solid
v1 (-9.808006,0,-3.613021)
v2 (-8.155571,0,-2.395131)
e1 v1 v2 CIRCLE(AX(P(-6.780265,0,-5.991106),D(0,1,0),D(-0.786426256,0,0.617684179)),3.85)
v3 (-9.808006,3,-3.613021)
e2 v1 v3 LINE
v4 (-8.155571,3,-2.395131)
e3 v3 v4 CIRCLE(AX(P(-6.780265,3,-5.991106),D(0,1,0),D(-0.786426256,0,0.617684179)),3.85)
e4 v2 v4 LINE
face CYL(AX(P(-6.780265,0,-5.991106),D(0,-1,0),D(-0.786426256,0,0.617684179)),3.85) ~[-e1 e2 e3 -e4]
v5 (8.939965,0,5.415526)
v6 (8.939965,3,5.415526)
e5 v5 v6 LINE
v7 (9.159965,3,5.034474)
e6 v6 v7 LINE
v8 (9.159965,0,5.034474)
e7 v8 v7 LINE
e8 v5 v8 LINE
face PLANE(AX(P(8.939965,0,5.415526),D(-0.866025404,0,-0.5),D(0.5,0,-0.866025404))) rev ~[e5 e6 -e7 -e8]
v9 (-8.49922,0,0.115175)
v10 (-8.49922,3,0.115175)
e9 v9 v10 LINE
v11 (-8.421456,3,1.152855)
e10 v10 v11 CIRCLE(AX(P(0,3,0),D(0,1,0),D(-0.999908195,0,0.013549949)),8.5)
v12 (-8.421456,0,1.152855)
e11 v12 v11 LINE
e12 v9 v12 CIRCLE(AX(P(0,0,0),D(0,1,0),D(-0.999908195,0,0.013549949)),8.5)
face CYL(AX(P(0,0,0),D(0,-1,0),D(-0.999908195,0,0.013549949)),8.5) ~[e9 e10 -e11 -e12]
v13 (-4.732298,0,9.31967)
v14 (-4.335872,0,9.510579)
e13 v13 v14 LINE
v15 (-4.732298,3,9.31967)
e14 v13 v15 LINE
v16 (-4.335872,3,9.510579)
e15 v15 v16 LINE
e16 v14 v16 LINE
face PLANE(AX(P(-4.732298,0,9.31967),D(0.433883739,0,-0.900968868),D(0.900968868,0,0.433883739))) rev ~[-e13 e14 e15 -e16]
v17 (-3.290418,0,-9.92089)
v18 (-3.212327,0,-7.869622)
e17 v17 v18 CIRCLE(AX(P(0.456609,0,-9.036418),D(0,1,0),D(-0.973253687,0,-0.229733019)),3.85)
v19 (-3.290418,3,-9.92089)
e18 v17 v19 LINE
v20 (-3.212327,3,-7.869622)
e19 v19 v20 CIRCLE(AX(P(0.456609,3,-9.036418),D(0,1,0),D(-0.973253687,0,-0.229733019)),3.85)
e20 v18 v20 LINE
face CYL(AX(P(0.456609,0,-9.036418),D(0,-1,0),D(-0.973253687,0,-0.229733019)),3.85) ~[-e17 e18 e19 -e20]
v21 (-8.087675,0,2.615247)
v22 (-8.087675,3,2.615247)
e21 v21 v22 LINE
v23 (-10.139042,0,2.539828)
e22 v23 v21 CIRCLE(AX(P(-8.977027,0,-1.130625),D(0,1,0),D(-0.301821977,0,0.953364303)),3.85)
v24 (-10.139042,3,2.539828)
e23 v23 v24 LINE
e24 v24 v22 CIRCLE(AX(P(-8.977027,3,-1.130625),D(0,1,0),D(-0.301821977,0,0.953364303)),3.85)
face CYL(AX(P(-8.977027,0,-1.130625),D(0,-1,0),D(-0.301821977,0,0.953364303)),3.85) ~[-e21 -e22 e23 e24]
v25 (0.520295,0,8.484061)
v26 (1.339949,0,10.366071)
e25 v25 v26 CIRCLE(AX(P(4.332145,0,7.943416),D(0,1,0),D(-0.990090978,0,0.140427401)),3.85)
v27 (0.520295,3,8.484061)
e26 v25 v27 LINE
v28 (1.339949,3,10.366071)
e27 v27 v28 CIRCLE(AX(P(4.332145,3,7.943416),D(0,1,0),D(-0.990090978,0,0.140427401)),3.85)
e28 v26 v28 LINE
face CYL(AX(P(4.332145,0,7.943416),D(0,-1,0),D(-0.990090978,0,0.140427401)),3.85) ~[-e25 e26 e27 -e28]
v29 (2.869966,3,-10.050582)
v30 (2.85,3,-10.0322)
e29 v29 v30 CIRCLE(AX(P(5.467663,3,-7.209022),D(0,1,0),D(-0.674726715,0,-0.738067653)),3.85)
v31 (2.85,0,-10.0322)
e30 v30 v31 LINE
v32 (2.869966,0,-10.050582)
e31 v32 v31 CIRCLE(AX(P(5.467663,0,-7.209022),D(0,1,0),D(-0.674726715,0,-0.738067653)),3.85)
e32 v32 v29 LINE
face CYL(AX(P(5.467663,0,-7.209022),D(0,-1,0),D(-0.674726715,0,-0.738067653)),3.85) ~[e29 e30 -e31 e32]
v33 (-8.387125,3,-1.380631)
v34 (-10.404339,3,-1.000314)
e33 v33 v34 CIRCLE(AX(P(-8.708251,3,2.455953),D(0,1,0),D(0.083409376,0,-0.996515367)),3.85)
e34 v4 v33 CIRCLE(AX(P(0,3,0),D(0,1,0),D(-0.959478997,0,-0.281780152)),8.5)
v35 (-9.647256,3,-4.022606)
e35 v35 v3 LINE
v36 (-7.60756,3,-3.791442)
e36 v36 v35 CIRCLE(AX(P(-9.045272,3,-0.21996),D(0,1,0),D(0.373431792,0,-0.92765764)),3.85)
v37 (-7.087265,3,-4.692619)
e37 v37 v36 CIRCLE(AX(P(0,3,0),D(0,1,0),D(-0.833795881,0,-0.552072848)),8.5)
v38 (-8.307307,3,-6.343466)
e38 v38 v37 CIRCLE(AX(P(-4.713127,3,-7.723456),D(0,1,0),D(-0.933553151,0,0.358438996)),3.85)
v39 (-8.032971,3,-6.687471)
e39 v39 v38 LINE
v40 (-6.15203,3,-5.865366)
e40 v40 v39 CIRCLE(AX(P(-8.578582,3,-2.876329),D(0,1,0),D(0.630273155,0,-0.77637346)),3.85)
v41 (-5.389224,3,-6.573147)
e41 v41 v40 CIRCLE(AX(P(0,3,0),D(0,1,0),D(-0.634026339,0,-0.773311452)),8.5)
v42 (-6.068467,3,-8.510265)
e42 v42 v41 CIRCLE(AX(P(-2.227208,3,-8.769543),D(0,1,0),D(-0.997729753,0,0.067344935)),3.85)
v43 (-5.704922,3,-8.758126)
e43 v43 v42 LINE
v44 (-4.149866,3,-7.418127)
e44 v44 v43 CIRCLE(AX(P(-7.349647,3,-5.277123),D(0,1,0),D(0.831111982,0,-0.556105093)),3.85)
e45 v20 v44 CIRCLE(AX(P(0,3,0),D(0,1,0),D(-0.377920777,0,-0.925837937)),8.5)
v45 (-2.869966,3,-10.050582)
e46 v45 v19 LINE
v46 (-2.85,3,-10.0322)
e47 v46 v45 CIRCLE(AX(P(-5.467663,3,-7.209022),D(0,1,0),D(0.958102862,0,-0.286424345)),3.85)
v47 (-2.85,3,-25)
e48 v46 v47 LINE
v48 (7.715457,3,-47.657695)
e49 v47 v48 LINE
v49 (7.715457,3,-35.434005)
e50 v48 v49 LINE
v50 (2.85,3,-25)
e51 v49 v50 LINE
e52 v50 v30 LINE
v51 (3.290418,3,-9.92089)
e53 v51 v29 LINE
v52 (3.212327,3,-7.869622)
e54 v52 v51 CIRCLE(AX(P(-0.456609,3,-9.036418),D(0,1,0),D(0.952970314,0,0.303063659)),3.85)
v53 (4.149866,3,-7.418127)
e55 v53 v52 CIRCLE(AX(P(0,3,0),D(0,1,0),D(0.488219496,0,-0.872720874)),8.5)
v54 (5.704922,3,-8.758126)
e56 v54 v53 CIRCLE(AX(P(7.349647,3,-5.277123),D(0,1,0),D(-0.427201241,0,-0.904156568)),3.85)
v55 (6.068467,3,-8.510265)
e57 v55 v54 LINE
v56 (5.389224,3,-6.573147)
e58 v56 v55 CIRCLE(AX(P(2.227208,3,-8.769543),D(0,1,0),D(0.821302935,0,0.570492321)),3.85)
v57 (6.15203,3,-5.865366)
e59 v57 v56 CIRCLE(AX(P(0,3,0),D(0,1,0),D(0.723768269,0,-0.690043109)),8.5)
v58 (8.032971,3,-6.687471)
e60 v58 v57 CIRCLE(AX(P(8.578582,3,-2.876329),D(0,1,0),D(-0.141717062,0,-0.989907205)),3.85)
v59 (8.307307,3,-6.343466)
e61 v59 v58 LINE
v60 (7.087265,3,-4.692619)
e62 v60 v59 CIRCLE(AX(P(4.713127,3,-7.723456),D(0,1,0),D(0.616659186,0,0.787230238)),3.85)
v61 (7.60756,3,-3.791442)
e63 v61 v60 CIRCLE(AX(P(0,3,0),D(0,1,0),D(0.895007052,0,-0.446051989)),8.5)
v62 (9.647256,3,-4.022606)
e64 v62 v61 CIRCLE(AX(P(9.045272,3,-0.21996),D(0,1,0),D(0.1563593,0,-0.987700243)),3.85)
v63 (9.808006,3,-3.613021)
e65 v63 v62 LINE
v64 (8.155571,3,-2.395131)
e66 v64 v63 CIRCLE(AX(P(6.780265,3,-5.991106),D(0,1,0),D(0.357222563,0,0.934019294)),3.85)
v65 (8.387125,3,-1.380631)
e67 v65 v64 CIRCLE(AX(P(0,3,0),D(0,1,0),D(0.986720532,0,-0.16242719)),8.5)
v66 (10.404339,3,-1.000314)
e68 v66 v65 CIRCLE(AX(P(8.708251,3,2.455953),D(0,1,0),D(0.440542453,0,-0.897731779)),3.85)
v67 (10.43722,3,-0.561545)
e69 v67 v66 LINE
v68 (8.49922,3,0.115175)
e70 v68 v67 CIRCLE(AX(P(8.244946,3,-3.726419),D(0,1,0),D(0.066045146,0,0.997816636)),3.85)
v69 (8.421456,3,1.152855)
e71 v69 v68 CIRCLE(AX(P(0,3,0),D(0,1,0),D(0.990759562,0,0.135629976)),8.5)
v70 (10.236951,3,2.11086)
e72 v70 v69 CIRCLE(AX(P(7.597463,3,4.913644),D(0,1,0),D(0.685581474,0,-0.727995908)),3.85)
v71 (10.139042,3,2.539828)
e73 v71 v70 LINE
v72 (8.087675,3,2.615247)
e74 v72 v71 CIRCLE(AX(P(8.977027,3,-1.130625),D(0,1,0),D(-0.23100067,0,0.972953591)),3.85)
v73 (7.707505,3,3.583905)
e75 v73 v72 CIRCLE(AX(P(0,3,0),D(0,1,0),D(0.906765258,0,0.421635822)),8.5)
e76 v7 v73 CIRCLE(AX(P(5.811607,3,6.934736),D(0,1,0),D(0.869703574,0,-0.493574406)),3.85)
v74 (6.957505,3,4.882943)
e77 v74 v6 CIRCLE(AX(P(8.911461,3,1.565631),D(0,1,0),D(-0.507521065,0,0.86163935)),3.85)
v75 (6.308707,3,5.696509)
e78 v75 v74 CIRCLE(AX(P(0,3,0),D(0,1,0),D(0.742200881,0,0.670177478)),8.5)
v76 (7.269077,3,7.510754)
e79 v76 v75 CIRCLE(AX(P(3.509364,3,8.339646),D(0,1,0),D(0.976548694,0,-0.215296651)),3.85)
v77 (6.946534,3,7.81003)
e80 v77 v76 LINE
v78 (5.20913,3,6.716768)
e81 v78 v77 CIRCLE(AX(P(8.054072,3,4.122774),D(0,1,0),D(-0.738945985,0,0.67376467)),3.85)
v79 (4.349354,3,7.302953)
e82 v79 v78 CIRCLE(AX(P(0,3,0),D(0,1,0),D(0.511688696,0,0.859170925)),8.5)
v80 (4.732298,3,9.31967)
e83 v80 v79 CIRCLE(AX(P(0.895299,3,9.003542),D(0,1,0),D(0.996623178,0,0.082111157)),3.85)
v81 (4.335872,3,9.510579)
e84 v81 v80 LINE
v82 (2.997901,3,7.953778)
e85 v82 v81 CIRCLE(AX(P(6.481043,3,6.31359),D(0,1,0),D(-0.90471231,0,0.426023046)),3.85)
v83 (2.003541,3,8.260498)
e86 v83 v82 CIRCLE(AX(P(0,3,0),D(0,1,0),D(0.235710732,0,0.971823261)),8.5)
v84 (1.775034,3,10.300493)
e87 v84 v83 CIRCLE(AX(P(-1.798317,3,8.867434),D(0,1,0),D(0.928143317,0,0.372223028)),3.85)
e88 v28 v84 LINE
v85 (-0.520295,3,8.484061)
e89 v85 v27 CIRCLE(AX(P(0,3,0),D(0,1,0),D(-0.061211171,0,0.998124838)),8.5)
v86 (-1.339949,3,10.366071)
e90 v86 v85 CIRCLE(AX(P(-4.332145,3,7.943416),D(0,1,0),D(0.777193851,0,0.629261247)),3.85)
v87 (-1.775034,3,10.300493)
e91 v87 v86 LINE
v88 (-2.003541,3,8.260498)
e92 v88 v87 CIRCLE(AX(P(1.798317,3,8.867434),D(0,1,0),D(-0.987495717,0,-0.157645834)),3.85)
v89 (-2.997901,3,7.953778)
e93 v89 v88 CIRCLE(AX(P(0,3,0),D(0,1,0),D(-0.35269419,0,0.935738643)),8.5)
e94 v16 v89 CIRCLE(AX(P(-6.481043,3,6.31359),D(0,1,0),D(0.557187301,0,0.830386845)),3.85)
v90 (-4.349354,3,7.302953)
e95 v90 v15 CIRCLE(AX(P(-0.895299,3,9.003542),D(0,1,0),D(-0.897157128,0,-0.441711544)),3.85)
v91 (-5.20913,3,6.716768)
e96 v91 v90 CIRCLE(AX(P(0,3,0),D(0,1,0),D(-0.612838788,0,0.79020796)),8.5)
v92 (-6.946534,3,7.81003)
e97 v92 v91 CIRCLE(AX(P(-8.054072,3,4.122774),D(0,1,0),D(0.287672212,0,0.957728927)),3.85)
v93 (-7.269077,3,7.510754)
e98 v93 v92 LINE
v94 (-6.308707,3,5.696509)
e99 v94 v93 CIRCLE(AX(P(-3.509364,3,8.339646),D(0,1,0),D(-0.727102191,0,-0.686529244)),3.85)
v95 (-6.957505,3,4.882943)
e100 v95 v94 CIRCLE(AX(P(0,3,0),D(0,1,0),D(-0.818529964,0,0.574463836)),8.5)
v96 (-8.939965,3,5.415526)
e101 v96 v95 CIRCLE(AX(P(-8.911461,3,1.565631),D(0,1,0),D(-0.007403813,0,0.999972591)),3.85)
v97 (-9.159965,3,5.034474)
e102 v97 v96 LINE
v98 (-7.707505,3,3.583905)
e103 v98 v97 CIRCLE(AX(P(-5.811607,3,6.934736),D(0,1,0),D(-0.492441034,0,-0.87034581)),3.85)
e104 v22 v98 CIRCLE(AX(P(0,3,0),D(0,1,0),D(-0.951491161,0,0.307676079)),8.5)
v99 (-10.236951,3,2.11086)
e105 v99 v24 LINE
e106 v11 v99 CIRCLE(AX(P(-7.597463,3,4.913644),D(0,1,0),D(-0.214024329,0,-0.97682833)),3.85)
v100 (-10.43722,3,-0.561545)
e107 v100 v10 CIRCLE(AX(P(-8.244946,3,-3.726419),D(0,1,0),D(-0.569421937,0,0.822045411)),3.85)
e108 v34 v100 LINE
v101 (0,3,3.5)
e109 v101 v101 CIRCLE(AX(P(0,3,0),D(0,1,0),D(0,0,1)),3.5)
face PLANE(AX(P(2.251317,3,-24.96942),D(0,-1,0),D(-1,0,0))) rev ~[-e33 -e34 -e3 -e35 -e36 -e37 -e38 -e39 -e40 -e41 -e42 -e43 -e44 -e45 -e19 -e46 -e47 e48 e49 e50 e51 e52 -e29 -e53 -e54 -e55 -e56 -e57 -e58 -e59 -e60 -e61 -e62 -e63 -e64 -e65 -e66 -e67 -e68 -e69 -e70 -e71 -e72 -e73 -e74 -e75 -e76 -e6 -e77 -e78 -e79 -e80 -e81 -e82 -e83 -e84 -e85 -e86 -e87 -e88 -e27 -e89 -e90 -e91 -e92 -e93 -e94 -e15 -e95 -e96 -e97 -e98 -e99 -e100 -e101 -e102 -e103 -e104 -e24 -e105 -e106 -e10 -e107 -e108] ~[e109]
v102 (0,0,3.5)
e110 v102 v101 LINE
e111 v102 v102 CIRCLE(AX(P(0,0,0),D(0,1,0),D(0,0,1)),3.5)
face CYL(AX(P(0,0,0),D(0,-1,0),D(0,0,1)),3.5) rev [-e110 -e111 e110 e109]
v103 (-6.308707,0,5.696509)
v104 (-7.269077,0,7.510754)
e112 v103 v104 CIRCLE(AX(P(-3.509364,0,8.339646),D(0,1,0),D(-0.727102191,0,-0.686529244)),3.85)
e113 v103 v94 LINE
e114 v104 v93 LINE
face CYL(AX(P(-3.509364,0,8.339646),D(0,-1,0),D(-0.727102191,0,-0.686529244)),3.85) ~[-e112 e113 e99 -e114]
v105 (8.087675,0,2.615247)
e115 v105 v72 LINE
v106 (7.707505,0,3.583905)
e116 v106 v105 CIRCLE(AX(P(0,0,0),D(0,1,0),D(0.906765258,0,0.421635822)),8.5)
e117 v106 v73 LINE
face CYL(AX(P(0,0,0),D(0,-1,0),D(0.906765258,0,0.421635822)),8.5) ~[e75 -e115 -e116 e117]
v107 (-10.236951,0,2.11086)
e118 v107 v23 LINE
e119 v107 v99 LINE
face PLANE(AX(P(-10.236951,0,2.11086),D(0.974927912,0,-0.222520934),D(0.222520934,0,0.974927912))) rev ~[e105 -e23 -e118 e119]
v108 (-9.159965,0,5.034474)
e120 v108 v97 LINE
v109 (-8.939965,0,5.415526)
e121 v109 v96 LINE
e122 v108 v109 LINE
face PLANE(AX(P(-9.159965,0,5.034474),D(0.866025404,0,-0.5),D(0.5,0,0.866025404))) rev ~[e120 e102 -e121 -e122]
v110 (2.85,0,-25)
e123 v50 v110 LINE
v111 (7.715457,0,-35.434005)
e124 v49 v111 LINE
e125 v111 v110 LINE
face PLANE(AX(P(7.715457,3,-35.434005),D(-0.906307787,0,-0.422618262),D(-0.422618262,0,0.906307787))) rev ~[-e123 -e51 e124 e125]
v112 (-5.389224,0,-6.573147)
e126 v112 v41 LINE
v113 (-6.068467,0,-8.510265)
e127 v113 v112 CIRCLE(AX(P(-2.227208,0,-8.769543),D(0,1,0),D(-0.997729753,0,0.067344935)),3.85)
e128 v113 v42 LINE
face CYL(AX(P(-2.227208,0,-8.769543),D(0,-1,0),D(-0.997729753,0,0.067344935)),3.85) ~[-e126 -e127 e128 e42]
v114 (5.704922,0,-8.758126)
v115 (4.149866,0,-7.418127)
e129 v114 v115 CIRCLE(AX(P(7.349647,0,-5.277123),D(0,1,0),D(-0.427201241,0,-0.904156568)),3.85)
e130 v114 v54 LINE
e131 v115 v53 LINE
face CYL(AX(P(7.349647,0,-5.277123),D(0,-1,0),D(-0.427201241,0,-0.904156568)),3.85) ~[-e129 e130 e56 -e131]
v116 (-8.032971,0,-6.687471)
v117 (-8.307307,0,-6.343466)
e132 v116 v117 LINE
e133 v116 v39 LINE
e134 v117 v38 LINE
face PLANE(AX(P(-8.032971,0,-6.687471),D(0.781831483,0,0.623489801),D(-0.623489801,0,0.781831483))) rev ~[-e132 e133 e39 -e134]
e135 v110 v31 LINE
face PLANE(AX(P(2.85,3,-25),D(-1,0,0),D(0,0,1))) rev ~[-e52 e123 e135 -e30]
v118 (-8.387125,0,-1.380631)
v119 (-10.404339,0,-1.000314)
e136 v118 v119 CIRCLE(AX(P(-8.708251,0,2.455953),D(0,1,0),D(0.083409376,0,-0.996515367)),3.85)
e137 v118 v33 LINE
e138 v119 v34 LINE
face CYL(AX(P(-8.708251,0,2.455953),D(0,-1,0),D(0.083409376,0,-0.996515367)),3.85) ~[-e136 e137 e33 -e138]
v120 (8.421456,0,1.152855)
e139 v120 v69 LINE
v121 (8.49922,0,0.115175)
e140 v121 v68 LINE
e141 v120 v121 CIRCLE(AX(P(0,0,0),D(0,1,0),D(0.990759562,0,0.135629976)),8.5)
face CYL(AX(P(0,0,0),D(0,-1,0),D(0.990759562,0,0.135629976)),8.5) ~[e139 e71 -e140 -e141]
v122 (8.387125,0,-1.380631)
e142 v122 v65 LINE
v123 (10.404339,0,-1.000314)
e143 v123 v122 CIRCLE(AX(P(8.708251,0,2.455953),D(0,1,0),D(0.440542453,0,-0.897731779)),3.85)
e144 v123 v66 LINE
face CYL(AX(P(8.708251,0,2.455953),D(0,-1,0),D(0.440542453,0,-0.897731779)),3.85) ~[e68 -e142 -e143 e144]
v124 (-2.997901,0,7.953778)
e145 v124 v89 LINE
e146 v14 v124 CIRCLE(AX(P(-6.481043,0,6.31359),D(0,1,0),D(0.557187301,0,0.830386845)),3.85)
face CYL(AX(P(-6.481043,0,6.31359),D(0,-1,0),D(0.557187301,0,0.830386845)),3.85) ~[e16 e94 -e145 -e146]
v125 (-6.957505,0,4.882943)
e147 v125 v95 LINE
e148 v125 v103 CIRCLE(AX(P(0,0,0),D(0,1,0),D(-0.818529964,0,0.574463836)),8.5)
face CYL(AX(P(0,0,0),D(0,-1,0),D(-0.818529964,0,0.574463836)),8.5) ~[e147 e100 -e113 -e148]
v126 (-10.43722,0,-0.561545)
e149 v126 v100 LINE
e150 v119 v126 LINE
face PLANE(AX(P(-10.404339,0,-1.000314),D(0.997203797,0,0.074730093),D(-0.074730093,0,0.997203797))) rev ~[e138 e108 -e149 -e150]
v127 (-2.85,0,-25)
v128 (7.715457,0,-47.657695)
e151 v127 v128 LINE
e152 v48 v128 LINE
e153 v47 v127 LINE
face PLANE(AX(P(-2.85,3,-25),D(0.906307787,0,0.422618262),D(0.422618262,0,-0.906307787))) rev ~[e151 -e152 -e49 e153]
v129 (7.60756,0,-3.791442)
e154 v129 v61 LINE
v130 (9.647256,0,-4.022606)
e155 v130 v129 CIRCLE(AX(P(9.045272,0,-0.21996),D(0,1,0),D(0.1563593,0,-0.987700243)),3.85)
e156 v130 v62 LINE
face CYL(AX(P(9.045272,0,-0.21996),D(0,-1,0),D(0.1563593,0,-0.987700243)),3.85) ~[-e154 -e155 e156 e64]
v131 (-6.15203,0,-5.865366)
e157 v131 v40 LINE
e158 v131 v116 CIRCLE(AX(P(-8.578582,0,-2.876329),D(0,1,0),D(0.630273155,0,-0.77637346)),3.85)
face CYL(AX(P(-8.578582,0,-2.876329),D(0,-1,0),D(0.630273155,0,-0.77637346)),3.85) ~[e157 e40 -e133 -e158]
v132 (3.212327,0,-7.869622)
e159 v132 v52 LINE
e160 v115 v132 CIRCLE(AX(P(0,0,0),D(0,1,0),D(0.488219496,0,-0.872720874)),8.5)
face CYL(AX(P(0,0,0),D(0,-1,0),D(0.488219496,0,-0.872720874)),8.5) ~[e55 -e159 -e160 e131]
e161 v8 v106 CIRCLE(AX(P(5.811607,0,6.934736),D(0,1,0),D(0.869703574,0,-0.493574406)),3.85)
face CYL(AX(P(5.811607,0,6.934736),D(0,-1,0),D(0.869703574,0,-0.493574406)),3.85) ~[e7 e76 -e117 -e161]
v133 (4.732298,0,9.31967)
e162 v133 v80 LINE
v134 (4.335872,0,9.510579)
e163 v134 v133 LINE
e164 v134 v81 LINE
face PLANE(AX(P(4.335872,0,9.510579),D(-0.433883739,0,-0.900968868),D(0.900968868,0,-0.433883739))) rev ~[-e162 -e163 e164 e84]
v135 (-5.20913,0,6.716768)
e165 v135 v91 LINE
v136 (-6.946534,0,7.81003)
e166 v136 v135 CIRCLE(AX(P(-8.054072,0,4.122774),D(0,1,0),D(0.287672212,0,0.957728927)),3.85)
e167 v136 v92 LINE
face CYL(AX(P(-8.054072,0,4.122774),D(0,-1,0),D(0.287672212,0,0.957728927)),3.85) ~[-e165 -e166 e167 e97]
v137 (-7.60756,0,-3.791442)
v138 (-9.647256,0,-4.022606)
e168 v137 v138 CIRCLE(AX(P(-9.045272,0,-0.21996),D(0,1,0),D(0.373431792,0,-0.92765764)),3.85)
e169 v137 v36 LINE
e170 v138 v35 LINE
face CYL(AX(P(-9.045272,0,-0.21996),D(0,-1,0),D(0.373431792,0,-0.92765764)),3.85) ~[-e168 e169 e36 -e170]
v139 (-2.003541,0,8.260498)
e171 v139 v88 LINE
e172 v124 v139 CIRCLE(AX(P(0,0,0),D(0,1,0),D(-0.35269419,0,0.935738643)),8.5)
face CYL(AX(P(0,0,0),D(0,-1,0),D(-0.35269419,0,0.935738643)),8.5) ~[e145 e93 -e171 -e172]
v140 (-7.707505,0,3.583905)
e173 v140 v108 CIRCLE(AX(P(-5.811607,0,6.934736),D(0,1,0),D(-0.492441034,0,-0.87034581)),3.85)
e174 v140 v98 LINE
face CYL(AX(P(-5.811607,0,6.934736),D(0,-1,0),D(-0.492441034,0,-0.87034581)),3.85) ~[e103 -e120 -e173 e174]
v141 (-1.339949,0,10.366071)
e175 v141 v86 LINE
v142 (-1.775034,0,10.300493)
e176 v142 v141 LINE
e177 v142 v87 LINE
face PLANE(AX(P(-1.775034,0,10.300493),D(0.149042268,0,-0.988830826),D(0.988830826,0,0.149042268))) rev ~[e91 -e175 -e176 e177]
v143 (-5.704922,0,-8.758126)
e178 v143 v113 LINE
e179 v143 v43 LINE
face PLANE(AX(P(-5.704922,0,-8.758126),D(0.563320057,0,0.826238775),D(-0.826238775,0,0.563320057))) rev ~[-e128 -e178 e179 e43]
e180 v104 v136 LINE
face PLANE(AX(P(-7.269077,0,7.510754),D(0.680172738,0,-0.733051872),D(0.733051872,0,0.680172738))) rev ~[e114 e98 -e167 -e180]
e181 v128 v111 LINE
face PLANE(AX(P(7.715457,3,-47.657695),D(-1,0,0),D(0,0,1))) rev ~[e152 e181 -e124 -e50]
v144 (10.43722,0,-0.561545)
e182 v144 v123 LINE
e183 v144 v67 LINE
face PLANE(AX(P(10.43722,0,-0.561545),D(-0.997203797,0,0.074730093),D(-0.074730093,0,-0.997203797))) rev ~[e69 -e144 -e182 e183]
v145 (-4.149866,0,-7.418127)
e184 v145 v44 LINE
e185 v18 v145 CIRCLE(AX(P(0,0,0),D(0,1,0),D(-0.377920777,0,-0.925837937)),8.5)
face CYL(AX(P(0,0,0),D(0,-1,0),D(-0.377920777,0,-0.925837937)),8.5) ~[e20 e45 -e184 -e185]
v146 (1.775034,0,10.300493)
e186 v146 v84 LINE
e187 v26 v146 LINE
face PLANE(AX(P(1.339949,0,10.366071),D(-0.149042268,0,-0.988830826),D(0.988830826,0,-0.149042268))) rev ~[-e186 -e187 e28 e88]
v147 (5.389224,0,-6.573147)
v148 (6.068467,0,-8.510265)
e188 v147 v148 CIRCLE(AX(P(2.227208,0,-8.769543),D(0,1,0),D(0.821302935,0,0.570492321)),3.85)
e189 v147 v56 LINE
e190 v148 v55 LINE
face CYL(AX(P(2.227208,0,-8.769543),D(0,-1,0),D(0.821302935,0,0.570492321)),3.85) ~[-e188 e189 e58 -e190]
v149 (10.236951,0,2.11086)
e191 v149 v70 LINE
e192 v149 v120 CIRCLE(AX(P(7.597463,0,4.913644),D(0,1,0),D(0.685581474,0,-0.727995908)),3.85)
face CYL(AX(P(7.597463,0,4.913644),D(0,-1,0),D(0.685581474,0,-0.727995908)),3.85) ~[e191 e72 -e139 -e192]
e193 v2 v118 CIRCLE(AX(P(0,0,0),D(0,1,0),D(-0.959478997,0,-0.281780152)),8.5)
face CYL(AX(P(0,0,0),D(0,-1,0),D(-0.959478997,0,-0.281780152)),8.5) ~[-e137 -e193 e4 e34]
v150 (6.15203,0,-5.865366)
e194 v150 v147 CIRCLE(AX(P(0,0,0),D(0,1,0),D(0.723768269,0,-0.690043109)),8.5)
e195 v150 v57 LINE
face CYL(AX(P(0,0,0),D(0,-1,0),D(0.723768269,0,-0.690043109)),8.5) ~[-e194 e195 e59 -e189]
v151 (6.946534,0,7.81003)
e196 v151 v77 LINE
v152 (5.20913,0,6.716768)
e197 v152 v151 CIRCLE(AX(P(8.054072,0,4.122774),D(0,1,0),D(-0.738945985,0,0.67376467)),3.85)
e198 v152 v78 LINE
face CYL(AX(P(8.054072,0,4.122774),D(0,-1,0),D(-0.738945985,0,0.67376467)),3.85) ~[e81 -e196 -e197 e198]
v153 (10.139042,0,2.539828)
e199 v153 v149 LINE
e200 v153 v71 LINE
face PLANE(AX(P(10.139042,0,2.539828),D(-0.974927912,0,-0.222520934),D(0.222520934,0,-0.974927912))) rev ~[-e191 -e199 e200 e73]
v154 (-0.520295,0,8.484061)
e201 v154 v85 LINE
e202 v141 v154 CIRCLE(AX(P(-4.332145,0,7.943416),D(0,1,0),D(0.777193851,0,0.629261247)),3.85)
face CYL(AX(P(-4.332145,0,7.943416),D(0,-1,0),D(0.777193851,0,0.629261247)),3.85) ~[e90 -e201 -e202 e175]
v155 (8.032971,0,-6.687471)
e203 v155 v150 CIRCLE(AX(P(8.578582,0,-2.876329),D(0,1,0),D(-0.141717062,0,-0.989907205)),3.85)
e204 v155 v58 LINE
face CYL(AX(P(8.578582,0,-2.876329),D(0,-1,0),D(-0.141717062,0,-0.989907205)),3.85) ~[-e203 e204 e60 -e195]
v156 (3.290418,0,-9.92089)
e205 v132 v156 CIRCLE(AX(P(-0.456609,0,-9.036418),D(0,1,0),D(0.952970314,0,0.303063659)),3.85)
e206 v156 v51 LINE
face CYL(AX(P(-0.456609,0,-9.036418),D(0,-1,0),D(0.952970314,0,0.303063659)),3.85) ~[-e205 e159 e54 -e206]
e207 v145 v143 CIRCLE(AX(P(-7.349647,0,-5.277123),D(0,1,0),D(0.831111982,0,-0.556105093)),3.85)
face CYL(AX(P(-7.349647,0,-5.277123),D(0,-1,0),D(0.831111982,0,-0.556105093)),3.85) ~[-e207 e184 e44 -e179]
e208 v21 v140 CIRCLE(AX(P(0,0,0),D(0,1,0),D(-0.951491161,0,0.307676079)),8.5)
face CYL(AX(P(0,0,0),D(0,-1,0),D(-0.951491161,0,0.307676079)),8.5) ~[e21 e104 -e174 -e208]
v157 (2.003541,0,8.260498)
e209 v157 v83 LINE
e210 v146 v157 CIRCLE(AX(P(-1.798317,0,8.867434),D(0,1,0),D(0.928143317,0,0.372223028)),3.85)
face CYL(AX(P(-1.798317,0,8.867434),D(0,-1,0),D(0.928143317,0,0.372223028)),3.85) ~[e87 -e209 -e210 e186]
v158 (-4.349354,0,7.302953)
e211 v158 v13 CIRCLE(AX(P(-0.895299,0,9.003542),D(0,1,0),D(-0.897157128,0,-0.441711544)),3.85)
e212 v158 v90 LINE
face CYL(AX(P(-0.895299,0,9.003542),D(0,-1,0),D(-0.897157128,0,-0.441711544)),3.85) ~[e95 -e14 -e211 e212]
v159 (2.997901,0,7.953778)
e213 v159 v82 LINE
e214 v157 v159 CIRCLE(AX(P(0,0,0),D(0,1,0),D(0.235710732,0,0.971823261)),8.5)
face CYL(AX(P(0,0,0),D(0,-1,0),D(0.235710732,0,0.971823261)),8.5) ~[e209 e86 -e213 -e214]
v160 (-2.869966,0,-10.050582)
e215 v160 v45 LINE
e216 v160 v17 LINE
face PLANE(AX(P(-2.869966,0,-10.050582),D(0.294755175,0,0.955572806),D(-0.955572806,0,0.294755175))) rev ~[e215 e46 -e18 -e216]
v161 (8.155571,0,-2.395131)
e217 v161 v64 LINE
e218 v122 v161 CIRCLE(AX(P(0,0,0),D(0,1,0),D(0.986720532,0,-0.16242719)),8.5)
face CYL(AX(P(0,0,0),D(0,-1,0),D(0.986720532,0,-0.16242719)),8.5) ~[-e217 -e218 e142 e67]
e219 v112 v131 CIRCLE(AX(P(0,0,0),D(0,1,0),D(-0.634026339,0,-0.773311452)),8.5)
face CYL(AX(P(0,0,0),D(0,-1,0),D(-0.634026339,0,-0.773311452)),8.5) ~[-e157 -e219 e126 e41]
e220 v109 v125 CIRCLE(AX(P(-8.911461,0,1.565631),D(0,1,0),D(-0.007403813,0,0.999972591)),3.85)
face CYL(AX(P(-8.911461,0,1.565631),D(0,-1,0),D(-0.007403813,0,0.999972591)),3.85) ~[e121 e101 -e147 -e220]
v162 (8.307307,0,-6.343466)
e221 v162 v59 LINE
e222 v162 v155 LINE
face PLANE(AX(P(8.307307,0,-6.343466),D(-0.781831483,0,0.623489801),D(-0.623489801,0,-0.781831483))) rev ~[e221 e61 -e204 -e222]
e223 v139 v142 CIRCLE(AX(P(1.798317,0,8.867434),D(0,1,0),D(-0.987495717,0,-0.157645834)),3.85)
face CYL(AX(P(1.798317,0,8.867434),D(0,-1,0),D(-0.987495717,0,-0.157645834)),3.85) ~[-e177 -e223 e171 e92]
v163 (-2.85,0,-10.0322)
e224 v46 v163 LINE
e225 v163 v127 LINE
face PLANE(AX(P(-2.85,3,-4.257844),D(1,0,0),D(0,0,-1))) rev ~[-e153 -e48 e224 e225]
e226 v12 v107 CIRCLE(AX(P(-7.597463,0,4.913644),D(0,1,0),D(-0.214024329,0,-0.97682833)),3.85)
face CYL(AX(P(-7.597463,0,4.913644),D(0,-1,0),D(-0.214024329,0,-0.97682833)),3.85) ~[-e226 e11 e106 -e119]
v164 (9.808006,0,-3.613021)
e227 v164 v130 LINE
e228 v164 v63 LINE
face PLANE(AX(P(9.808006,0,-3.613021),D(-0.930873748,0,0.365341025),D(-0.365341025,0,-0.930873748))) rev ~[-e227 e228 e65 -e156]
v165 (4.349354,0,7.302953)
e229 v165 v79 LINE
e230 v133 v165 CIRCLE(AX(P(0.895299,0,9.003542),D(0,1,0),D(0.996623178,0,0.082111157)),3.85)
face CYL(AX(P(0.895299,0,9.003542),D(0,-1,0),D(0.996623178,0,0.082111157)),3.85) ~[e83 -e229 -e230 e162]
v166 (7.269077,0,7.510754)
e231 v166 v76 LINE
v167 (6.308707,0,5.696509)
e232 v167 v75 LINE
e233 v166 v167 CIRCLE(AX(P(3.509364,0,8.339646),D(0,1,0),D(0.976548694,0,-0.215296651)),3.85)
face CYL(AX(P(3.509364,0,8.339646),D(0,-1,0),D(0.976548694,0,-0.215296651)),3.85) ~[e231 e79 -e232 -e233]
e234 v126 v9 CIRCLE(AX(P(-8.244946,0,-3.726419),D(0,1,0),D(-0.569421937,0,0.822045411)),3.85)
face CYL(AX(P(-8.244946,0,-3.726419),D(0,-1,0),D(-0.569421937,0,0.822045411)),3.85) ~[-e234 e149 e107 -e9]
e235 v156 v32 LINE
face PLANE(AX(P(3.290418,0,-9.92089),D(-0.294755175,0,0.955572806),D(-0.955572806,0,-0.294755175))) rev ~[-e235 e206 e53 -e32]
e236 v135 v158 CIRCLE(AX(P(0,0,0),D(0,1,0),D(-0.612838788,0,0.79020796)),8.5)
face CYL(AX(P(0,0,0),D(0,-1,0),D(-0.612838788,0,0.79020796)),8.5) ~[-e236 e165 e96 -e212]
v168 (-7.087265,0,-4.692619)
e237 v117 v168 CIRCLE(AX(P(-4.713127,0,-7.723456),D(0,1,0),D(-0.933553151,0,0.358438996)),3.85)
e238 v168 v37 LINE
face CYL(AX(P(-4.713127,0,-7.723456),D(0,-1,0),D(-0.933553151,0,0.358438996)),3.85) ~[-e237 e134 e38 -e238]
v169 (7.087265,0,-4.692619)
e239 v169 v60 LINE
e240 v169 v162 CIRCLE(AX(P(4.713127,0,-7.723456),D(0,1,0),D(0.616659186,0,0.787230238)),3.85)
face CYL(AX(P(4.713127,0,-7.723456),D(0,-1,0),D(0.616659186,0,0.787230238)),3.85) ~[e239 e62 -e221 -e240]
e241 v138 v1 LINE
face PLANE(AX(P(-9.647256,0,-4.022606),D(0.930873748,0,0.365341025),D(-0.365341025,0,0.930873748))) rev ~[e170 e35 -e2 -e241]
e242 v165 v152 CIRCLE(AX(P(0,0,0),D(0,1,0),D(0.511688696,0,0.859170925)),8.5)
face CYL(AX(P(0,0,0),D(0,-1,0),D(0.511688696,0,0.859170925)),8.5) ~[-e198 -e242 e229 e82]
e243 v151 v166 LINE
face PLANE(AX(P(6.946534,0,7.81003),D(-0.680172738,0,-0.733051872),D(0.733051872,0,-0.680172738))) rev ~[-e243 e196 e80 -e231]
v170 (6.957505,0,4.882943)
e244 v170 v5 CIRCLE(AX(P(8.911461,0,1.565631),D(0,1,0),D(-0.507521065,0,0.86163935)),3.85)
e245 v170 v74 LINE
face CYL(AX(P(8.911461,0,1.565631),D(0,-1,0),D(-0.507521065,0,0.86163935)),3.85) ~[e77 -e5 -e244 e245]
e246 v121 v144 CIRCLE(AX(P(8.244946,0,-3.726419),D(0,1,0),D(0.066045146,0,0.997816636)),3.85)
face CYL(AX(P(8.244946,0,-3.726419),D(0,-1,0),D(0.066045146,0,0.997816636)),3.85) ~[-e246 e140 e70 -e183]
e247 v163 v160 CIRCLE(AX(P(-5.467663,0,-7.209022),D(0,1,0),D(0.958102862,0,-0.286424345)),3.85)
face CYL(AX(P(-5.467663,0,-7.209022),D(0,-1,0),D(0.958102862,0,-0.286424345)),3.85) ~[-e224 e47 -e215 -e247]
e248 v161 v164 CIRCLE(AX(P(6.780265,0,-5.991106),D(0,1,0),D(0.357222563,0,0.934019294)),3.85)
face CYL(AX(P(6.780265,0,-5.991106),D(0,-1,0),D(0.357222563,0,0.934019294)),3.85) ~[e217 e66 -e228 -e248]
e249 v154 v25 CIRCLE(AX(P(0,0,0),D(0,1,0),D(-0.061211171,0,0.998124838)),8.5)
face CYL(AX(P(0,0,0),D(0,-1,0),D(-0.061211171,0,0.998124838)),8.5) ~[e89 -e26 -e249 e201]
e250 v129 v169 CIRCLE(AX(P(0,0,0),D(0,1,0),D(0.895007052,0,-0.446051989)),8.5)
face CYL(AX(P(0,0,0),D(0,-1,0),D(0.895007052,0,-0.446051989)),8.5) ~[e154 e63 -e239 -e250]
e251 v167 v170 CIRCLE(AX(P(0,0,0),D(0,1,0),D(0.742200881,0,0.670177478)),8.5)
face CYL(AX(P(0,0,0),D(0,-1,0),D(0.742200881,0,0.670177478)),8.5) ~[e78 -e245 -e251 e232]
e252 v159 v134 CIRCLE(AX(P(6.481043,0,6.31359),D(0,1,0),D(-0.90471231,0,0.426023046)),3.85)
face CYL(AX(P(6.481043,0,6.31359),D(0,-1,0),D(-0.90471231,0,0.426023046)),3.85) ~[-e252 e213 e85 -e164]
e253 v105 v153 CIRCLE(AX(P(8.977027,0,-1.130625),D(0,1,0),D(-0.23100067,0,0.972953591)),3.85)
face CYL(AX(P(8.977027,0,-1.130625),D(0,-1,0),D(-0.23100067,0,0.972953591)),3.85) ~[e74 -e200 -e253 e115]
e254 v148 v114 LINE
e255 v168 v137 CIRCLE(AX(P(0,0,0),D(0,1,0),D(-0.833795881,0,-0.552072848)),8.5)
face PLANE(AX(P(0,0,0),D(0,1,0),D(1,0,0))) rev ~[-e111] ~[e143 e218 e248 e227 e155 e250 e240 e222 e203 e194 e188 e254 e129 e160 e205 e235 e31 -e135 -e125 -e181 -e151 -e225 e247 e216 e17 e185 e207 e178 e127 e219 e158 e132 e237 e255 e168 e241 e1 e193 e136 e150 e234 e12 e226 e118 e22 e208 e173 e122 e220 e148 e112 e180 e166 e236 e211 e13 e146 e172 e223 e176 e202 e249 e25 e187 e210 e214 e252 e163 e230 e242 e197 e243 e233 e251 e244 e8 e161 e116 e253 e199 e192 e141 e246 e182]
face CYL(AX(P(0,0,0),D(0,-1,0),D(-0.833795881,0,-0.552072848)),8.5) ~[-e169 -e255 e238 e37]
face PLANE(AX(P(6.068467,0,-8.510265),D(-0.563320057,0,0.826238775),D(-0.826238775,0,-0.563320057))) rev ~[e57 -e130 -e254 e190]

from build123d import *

# Parameters (mm, degrees)
SKETCH1_R           = 3.5
BOSS_EXTRUDE1_DEPTH = 3
BOSS_EXTRUDE2_DEPTH = 3


with BuildPart() as part:
    # Sketch1 → Boss-Extrude1 (new body)
    with BuildSketch(Plane(origin=(0, 0, 0), x_dir=(1, 0, 0), z_dir=(0, 1, 0))):
        with BuildLine():
            Line((0.22, 10.45), (-0.22, 10.45))
            ThreePointArc((-0.22, 10.45), (-0.619608599, 9.494397866), (-0.75, 8.466847111))
            ThreePointArc((-0.75, 8.466847111), (-1.266859262, 8.405062023), (-1.778967393, 8.311755231))
            ThreePointArc((-1.778967393, 8.311755231), (-2.206441771, 9.255221249), (-2.869965555, 10.050581959))
            Line((-2.869965555, 10.050581959), (-3.29041759, 9.920889682))
            ThreePointArc((-3.29041759, 9.920889682), (-3.390604026, 8.889955567), (-3.212326601, 7.869622469))
            ThreePointArc((-3.212326601, 7.869622469), (-3.688011782, 7.658235377), (-4.149865725, 7.418127423))
            ThreePointArc((-4.149865725, 7.418127423), (-4.836440108, 8.193677608), (-5.704922076, 8.758125604))
            Line((-5.704922076, 8.758125604), (-6.068467137, 8.510264779))
            ThreePointArc((-6.068467137, 8.510264779), (-5.860329406, 7.495601704), (-5.389223887, 6.573147336))
            ThreePointArc((-5.389223887, 6.573147336), (-5.781468271, 6.230940911), (-6.152030277, 5.865366439))
            ThreePointArc((-6.152030277, 5.865366439), (-7.036699516, 6.404089754), (-8.032971235, 6.687471356))
            Line((-8.032971235, 6.687471356), (-8.307306748, 6.343465503))
            ThreePointArc((-8.307306748, 6.343465503), (-7.809338801, 5.435230735), (-7.08726498, 4.692619216))
            ThreePointArc((-7.08726498, 4.692619216), (-7.361215932, 4.25), (-7.607559941, 3.791441908))
            ThreePointArc((-7.607559941, 3.791441908), (-8.611717292, 4.045470421), (-9.647255648, 4.022605929))
            Line((-9.647255648, 4.022605929), (-9.808005699, 3.61302148))
            ThreePointArc((-9.808005699, 3.61302148), (-9.064454173, 2.891915663), (-8.155571478, 2.395131285))
            ThreePointArc((-8.155571478, 2.395131285), (-8.286887254, 1.891427939), (-8.387124519, 1.380631125))
            ThreePointArc((-8.387124519, 1.380631125), (-9.421546195, 1.327393289), (-10.40433906, 1.000314313))
            Line((-10.40433906, 1.000314313), (-10.437220301, 0.561544643))
            ThreePointArc((-10.437220301, 0.561544643), (-9.514153012, 0.091641193), (-8.499219659, -0.115174571))
            ThreePointArc((-8.499219659, -0.115174571), (-8.476232276, -0.635205795), (-8.421456277, -1.152854793))
            ThreePointArc((-8.421456277, -1.152854793), (-9.394229373, -1.508628563), (-10.236951288, -2.110859619))
            Line((-10.236951288, -2.110859619), (-10.139042077, -2.539827901))
            ThreePointArc((-10.139042077, -2.539827901), (-9.118477605, -2.716775998), (-8.087674876, -2.615246661))
            ThreePointArc((-8.087674876, -2.615246661), (-7.912426863, -3.105398707), (-7.707504688, -3.583904503))
            ThreePointArc((-7.707504688, -3.583904503), (-8.532194045, -4.210602146), (-9.15996547, -5.034474411))
            Line((-9.15996547, -5.034474411), (-8.93996547, -5.415525589))
            ThreePointArc((-8.93996547, -5.415525589), (-7.912585446, -5.28379572), (-6.957504688, -4.882942608))
            ThreePointArc((-6.957504688, -4.882942608), (-6.645567601, -5.299663316), (-6.308707484, -5.69650857))
            ThreePointArc((-6.308707484, -5.69650857), (-6.912035833, -6.53844525), (-7.269076522, -7.510754058))
            Line((-7.269076522, -7.510754058), (-6.946533698, -7.810030063))
            ThreePointArc((-6.946533698, -7.810030063), (-6.003625347, -7.381327005), (-5.209129676, -6.716767676))
            ThreePointArc((-5.209129676, -6.716767676), (-4.788220494, -7.023029582), (-4.349353934, -7.302952852))
            ThreePointArc((-4.349353934, -7.302952852), (-4.677712905, -8.285318801), (-4.732298225, -9.319670247))
            Line((-4.732298225, -9.319670247), (-4.335871923, -9.510579092))
            ThreePointArc((-4.335871923, -9.510579092), (-3.561216789, -8.822994992), (-2.997900632, -7.953778461))
            ThreePointArc((-2.997900632, -7.953778461), (-2.505418982, -8.122368849), (-2.0035412, -8.260497725))
            ThreePointArc((-2.0035412, -8.260497725), (-2.027754657, -9.296005416), (-1.775034463, -10.300492835))
            Line((-1.775034463, -10.300492835), (-1.3399489, -10.366071433))
            ThreePointArc((-1.3399489, -10.366071433), (-0.802378491, -9.480701156), (-0.520294961, -8.484061124))
            ThreePointArc((-0.520294961, -8.484061124), (0, -8.5), (0.520294961, -8.484061124))
            ThreePointArc((0.520294961, -8.484061124), (0.802378491, -9.480701156), (1.3399489, -10.366071433))
            Line((1.3399489, -10.366071433), (1.775034463, -10.300492835))
            ThreePointArc((1.775034463, -10.300492835), (2.027754657, -9.296005416), (2.0035412, -8.260497725))
            ThreePointArc((2.0035412, -8.260497725), (2.505418982, -8.122368849), (2.997900632, -7.953778461))
            ThreePointArc((2.997900632, -7.953778461), (3.561216789, -8.822994992), (4.335871923, -9.510579092))
            Line((4.335871923, -9.510579092), (4.732298225, -9.319670247))
            ThreePointArc((4.732298225, -9.319670247), (4.677712905, -8.285318801), (4.349353934, -7.302952852))
            ThreePointArc((4.349353934, -7.302952852), (4.788220494, -7.023029582), (5.209129676, -6.716767676))
            ThreePointArc((5.209129676, -6.716767676), (6.003625347, -7.381327005), (6.946533698, -7.810030063))
            Line((6.946533698, -7.810030063), (7.269076522, -7.510754058))
            ThreePointArc((7.269076522, -7.510754058), (6.912035833, -6.53844525), (6.308707484, -5.69650857))
            ThreePointArc((6.308707484, -5.69650857), (6.645567601, -5.299663316), (6.957504688, -4.882942608))
            ThreePointArc((6.957504688, -4.882942608), (7.912585446, -5.28379572), (8.93996547, -5.415525589))
            Line((8.93996547, -5.415525589), (9.15996547, -5.034474411))
            ThreePointArc((9.15996547, -5.034474411), (8.532194045, -4.210602146), (7.707504688, -3.583904503))
            ThreePointArc((7.707504688, -3.583904503), (7.912426863, -3.105398707), (8.087674876, -2.615246661))
            ThreePointArc((8.087674876, -2.615246661), (9.118477605, -2.716775998), (10.139042077, -2.539827901))
            Line((10.139042077, -2.539827901), (10.236951288, -2.110859619))
            ThreePointArc((10.236951288, -2.110859619), (9.394229373, -1.508628563), (8.421456277, -1.152854793))
            ThreePointArc((8.421456277, -1.152854793), (8.476232276, -0.635205795), (8.499219659, -0.115174571))
            ThreePointArc((8.499219659, -0.115174571), (9.514153012, 0.091641193), (10.437220301, 0.561544643))
            Line((10.437220301, 0.561544643), (10.40433906, 1.000314313))
            ThreePointArc((10.40433906, 1.000314313), (9.421546195, 1.327393289), (8.387124519, 1.380631125))
            ThreePointArc((8.387124519, 1.380631125), (8.286887254, 1.891427939), (8.155571478, 2.395131285))
            ThreePointArc((8.155571478, 2.395131285), (9.064454173, 2.891915663), (9.808005699, 3.61302148))
            Line((9.808005699, 3.61302148), (9.647255648, 4.022605929))
            ThreePointArc((9.647255648, 4.022605929), (8.611717292, 4.045470421), (7.607559941, 3.791441908))
            ThreePointArc((7.607559941, 3.791441908), (7.361215932, 4.25), (7.08726498, 4.692619216))
            ThreePointArc((7.08726498, 4.692619216), (7.809338801, 5.435230735), (8.307306748, 6.343465503))
            Line((8.307306748, 6.343465503), (8.032971235, 6.687471356))
            ThreePointArc((8.032971235, 6.687471356), (7.036699516, 6.404089754), (6.152030277, 5.865366439))
            ThreePointArc((6.152030277, 5.865366439), (5.781468271, 6.230940911), (5.389223887, 6.573147336))
            ThreePointArc((5.389223887, 6.573147336), (5.860329406, 7.495601704), (6.068467137, 8.510264779))
            Line((6.068467137, 8.510264779), (5.704922076, 8.758125604))
            ThreePointArc((5.704922076, 8.758125604), (4.836440108, 8.193677608), (4.149865725, 7.418127423))
            ThreePointArc((4.149865725, 7.418127423), (3.688011782, 7.658235377), (3.212326601, 7.869622469))
            ThreePointArc((3.212326601, 7.869622469), (3.390604026, 8.889955567), (3.29041759, 9.920889682))
            Line((3.29041759, 9.920889682), (2.869965555, 10.050581959))
            ThreePointArc((2.869965555, 10.050581959), (2.206441771, 9.255221249), (1.778967393, 8.311755231))
            ThreePointArc((1.778967393, 8.311755231), (1.266859262, 8.405062023), (0.75, 8.466847111))
            ThreePointArc((0.75, 8.466847111), (0.619608599, 9.494397866), (0.22, 10.45))
        make_face()
        with Locations(Location((0, 0, 0), (0, 0, 270))):
            Circle(SKETCH1_R, mode=Mode.SUBTRACT)
    extrude(amount=BOSS_EXTRUDE1_DEPTH)

    # Sketch4 → Boss-Extrude2 (add)
    with BuildSketch(Plane(origin=(0, 3, 0), x_dir=(1, 0, 0), z_dir=(0, 1, 0))):
        Polygon((-2.85, 4.257844413), (-2.85, 25), (7.715456544, 47.657694676), (7.715456544, 35.434005229), (2.85, 25), (2.85, 4.257844413), align=None)
    extrude(amount=-BOSS_EXTRUDE2_DEPTH)


solid = part.part
